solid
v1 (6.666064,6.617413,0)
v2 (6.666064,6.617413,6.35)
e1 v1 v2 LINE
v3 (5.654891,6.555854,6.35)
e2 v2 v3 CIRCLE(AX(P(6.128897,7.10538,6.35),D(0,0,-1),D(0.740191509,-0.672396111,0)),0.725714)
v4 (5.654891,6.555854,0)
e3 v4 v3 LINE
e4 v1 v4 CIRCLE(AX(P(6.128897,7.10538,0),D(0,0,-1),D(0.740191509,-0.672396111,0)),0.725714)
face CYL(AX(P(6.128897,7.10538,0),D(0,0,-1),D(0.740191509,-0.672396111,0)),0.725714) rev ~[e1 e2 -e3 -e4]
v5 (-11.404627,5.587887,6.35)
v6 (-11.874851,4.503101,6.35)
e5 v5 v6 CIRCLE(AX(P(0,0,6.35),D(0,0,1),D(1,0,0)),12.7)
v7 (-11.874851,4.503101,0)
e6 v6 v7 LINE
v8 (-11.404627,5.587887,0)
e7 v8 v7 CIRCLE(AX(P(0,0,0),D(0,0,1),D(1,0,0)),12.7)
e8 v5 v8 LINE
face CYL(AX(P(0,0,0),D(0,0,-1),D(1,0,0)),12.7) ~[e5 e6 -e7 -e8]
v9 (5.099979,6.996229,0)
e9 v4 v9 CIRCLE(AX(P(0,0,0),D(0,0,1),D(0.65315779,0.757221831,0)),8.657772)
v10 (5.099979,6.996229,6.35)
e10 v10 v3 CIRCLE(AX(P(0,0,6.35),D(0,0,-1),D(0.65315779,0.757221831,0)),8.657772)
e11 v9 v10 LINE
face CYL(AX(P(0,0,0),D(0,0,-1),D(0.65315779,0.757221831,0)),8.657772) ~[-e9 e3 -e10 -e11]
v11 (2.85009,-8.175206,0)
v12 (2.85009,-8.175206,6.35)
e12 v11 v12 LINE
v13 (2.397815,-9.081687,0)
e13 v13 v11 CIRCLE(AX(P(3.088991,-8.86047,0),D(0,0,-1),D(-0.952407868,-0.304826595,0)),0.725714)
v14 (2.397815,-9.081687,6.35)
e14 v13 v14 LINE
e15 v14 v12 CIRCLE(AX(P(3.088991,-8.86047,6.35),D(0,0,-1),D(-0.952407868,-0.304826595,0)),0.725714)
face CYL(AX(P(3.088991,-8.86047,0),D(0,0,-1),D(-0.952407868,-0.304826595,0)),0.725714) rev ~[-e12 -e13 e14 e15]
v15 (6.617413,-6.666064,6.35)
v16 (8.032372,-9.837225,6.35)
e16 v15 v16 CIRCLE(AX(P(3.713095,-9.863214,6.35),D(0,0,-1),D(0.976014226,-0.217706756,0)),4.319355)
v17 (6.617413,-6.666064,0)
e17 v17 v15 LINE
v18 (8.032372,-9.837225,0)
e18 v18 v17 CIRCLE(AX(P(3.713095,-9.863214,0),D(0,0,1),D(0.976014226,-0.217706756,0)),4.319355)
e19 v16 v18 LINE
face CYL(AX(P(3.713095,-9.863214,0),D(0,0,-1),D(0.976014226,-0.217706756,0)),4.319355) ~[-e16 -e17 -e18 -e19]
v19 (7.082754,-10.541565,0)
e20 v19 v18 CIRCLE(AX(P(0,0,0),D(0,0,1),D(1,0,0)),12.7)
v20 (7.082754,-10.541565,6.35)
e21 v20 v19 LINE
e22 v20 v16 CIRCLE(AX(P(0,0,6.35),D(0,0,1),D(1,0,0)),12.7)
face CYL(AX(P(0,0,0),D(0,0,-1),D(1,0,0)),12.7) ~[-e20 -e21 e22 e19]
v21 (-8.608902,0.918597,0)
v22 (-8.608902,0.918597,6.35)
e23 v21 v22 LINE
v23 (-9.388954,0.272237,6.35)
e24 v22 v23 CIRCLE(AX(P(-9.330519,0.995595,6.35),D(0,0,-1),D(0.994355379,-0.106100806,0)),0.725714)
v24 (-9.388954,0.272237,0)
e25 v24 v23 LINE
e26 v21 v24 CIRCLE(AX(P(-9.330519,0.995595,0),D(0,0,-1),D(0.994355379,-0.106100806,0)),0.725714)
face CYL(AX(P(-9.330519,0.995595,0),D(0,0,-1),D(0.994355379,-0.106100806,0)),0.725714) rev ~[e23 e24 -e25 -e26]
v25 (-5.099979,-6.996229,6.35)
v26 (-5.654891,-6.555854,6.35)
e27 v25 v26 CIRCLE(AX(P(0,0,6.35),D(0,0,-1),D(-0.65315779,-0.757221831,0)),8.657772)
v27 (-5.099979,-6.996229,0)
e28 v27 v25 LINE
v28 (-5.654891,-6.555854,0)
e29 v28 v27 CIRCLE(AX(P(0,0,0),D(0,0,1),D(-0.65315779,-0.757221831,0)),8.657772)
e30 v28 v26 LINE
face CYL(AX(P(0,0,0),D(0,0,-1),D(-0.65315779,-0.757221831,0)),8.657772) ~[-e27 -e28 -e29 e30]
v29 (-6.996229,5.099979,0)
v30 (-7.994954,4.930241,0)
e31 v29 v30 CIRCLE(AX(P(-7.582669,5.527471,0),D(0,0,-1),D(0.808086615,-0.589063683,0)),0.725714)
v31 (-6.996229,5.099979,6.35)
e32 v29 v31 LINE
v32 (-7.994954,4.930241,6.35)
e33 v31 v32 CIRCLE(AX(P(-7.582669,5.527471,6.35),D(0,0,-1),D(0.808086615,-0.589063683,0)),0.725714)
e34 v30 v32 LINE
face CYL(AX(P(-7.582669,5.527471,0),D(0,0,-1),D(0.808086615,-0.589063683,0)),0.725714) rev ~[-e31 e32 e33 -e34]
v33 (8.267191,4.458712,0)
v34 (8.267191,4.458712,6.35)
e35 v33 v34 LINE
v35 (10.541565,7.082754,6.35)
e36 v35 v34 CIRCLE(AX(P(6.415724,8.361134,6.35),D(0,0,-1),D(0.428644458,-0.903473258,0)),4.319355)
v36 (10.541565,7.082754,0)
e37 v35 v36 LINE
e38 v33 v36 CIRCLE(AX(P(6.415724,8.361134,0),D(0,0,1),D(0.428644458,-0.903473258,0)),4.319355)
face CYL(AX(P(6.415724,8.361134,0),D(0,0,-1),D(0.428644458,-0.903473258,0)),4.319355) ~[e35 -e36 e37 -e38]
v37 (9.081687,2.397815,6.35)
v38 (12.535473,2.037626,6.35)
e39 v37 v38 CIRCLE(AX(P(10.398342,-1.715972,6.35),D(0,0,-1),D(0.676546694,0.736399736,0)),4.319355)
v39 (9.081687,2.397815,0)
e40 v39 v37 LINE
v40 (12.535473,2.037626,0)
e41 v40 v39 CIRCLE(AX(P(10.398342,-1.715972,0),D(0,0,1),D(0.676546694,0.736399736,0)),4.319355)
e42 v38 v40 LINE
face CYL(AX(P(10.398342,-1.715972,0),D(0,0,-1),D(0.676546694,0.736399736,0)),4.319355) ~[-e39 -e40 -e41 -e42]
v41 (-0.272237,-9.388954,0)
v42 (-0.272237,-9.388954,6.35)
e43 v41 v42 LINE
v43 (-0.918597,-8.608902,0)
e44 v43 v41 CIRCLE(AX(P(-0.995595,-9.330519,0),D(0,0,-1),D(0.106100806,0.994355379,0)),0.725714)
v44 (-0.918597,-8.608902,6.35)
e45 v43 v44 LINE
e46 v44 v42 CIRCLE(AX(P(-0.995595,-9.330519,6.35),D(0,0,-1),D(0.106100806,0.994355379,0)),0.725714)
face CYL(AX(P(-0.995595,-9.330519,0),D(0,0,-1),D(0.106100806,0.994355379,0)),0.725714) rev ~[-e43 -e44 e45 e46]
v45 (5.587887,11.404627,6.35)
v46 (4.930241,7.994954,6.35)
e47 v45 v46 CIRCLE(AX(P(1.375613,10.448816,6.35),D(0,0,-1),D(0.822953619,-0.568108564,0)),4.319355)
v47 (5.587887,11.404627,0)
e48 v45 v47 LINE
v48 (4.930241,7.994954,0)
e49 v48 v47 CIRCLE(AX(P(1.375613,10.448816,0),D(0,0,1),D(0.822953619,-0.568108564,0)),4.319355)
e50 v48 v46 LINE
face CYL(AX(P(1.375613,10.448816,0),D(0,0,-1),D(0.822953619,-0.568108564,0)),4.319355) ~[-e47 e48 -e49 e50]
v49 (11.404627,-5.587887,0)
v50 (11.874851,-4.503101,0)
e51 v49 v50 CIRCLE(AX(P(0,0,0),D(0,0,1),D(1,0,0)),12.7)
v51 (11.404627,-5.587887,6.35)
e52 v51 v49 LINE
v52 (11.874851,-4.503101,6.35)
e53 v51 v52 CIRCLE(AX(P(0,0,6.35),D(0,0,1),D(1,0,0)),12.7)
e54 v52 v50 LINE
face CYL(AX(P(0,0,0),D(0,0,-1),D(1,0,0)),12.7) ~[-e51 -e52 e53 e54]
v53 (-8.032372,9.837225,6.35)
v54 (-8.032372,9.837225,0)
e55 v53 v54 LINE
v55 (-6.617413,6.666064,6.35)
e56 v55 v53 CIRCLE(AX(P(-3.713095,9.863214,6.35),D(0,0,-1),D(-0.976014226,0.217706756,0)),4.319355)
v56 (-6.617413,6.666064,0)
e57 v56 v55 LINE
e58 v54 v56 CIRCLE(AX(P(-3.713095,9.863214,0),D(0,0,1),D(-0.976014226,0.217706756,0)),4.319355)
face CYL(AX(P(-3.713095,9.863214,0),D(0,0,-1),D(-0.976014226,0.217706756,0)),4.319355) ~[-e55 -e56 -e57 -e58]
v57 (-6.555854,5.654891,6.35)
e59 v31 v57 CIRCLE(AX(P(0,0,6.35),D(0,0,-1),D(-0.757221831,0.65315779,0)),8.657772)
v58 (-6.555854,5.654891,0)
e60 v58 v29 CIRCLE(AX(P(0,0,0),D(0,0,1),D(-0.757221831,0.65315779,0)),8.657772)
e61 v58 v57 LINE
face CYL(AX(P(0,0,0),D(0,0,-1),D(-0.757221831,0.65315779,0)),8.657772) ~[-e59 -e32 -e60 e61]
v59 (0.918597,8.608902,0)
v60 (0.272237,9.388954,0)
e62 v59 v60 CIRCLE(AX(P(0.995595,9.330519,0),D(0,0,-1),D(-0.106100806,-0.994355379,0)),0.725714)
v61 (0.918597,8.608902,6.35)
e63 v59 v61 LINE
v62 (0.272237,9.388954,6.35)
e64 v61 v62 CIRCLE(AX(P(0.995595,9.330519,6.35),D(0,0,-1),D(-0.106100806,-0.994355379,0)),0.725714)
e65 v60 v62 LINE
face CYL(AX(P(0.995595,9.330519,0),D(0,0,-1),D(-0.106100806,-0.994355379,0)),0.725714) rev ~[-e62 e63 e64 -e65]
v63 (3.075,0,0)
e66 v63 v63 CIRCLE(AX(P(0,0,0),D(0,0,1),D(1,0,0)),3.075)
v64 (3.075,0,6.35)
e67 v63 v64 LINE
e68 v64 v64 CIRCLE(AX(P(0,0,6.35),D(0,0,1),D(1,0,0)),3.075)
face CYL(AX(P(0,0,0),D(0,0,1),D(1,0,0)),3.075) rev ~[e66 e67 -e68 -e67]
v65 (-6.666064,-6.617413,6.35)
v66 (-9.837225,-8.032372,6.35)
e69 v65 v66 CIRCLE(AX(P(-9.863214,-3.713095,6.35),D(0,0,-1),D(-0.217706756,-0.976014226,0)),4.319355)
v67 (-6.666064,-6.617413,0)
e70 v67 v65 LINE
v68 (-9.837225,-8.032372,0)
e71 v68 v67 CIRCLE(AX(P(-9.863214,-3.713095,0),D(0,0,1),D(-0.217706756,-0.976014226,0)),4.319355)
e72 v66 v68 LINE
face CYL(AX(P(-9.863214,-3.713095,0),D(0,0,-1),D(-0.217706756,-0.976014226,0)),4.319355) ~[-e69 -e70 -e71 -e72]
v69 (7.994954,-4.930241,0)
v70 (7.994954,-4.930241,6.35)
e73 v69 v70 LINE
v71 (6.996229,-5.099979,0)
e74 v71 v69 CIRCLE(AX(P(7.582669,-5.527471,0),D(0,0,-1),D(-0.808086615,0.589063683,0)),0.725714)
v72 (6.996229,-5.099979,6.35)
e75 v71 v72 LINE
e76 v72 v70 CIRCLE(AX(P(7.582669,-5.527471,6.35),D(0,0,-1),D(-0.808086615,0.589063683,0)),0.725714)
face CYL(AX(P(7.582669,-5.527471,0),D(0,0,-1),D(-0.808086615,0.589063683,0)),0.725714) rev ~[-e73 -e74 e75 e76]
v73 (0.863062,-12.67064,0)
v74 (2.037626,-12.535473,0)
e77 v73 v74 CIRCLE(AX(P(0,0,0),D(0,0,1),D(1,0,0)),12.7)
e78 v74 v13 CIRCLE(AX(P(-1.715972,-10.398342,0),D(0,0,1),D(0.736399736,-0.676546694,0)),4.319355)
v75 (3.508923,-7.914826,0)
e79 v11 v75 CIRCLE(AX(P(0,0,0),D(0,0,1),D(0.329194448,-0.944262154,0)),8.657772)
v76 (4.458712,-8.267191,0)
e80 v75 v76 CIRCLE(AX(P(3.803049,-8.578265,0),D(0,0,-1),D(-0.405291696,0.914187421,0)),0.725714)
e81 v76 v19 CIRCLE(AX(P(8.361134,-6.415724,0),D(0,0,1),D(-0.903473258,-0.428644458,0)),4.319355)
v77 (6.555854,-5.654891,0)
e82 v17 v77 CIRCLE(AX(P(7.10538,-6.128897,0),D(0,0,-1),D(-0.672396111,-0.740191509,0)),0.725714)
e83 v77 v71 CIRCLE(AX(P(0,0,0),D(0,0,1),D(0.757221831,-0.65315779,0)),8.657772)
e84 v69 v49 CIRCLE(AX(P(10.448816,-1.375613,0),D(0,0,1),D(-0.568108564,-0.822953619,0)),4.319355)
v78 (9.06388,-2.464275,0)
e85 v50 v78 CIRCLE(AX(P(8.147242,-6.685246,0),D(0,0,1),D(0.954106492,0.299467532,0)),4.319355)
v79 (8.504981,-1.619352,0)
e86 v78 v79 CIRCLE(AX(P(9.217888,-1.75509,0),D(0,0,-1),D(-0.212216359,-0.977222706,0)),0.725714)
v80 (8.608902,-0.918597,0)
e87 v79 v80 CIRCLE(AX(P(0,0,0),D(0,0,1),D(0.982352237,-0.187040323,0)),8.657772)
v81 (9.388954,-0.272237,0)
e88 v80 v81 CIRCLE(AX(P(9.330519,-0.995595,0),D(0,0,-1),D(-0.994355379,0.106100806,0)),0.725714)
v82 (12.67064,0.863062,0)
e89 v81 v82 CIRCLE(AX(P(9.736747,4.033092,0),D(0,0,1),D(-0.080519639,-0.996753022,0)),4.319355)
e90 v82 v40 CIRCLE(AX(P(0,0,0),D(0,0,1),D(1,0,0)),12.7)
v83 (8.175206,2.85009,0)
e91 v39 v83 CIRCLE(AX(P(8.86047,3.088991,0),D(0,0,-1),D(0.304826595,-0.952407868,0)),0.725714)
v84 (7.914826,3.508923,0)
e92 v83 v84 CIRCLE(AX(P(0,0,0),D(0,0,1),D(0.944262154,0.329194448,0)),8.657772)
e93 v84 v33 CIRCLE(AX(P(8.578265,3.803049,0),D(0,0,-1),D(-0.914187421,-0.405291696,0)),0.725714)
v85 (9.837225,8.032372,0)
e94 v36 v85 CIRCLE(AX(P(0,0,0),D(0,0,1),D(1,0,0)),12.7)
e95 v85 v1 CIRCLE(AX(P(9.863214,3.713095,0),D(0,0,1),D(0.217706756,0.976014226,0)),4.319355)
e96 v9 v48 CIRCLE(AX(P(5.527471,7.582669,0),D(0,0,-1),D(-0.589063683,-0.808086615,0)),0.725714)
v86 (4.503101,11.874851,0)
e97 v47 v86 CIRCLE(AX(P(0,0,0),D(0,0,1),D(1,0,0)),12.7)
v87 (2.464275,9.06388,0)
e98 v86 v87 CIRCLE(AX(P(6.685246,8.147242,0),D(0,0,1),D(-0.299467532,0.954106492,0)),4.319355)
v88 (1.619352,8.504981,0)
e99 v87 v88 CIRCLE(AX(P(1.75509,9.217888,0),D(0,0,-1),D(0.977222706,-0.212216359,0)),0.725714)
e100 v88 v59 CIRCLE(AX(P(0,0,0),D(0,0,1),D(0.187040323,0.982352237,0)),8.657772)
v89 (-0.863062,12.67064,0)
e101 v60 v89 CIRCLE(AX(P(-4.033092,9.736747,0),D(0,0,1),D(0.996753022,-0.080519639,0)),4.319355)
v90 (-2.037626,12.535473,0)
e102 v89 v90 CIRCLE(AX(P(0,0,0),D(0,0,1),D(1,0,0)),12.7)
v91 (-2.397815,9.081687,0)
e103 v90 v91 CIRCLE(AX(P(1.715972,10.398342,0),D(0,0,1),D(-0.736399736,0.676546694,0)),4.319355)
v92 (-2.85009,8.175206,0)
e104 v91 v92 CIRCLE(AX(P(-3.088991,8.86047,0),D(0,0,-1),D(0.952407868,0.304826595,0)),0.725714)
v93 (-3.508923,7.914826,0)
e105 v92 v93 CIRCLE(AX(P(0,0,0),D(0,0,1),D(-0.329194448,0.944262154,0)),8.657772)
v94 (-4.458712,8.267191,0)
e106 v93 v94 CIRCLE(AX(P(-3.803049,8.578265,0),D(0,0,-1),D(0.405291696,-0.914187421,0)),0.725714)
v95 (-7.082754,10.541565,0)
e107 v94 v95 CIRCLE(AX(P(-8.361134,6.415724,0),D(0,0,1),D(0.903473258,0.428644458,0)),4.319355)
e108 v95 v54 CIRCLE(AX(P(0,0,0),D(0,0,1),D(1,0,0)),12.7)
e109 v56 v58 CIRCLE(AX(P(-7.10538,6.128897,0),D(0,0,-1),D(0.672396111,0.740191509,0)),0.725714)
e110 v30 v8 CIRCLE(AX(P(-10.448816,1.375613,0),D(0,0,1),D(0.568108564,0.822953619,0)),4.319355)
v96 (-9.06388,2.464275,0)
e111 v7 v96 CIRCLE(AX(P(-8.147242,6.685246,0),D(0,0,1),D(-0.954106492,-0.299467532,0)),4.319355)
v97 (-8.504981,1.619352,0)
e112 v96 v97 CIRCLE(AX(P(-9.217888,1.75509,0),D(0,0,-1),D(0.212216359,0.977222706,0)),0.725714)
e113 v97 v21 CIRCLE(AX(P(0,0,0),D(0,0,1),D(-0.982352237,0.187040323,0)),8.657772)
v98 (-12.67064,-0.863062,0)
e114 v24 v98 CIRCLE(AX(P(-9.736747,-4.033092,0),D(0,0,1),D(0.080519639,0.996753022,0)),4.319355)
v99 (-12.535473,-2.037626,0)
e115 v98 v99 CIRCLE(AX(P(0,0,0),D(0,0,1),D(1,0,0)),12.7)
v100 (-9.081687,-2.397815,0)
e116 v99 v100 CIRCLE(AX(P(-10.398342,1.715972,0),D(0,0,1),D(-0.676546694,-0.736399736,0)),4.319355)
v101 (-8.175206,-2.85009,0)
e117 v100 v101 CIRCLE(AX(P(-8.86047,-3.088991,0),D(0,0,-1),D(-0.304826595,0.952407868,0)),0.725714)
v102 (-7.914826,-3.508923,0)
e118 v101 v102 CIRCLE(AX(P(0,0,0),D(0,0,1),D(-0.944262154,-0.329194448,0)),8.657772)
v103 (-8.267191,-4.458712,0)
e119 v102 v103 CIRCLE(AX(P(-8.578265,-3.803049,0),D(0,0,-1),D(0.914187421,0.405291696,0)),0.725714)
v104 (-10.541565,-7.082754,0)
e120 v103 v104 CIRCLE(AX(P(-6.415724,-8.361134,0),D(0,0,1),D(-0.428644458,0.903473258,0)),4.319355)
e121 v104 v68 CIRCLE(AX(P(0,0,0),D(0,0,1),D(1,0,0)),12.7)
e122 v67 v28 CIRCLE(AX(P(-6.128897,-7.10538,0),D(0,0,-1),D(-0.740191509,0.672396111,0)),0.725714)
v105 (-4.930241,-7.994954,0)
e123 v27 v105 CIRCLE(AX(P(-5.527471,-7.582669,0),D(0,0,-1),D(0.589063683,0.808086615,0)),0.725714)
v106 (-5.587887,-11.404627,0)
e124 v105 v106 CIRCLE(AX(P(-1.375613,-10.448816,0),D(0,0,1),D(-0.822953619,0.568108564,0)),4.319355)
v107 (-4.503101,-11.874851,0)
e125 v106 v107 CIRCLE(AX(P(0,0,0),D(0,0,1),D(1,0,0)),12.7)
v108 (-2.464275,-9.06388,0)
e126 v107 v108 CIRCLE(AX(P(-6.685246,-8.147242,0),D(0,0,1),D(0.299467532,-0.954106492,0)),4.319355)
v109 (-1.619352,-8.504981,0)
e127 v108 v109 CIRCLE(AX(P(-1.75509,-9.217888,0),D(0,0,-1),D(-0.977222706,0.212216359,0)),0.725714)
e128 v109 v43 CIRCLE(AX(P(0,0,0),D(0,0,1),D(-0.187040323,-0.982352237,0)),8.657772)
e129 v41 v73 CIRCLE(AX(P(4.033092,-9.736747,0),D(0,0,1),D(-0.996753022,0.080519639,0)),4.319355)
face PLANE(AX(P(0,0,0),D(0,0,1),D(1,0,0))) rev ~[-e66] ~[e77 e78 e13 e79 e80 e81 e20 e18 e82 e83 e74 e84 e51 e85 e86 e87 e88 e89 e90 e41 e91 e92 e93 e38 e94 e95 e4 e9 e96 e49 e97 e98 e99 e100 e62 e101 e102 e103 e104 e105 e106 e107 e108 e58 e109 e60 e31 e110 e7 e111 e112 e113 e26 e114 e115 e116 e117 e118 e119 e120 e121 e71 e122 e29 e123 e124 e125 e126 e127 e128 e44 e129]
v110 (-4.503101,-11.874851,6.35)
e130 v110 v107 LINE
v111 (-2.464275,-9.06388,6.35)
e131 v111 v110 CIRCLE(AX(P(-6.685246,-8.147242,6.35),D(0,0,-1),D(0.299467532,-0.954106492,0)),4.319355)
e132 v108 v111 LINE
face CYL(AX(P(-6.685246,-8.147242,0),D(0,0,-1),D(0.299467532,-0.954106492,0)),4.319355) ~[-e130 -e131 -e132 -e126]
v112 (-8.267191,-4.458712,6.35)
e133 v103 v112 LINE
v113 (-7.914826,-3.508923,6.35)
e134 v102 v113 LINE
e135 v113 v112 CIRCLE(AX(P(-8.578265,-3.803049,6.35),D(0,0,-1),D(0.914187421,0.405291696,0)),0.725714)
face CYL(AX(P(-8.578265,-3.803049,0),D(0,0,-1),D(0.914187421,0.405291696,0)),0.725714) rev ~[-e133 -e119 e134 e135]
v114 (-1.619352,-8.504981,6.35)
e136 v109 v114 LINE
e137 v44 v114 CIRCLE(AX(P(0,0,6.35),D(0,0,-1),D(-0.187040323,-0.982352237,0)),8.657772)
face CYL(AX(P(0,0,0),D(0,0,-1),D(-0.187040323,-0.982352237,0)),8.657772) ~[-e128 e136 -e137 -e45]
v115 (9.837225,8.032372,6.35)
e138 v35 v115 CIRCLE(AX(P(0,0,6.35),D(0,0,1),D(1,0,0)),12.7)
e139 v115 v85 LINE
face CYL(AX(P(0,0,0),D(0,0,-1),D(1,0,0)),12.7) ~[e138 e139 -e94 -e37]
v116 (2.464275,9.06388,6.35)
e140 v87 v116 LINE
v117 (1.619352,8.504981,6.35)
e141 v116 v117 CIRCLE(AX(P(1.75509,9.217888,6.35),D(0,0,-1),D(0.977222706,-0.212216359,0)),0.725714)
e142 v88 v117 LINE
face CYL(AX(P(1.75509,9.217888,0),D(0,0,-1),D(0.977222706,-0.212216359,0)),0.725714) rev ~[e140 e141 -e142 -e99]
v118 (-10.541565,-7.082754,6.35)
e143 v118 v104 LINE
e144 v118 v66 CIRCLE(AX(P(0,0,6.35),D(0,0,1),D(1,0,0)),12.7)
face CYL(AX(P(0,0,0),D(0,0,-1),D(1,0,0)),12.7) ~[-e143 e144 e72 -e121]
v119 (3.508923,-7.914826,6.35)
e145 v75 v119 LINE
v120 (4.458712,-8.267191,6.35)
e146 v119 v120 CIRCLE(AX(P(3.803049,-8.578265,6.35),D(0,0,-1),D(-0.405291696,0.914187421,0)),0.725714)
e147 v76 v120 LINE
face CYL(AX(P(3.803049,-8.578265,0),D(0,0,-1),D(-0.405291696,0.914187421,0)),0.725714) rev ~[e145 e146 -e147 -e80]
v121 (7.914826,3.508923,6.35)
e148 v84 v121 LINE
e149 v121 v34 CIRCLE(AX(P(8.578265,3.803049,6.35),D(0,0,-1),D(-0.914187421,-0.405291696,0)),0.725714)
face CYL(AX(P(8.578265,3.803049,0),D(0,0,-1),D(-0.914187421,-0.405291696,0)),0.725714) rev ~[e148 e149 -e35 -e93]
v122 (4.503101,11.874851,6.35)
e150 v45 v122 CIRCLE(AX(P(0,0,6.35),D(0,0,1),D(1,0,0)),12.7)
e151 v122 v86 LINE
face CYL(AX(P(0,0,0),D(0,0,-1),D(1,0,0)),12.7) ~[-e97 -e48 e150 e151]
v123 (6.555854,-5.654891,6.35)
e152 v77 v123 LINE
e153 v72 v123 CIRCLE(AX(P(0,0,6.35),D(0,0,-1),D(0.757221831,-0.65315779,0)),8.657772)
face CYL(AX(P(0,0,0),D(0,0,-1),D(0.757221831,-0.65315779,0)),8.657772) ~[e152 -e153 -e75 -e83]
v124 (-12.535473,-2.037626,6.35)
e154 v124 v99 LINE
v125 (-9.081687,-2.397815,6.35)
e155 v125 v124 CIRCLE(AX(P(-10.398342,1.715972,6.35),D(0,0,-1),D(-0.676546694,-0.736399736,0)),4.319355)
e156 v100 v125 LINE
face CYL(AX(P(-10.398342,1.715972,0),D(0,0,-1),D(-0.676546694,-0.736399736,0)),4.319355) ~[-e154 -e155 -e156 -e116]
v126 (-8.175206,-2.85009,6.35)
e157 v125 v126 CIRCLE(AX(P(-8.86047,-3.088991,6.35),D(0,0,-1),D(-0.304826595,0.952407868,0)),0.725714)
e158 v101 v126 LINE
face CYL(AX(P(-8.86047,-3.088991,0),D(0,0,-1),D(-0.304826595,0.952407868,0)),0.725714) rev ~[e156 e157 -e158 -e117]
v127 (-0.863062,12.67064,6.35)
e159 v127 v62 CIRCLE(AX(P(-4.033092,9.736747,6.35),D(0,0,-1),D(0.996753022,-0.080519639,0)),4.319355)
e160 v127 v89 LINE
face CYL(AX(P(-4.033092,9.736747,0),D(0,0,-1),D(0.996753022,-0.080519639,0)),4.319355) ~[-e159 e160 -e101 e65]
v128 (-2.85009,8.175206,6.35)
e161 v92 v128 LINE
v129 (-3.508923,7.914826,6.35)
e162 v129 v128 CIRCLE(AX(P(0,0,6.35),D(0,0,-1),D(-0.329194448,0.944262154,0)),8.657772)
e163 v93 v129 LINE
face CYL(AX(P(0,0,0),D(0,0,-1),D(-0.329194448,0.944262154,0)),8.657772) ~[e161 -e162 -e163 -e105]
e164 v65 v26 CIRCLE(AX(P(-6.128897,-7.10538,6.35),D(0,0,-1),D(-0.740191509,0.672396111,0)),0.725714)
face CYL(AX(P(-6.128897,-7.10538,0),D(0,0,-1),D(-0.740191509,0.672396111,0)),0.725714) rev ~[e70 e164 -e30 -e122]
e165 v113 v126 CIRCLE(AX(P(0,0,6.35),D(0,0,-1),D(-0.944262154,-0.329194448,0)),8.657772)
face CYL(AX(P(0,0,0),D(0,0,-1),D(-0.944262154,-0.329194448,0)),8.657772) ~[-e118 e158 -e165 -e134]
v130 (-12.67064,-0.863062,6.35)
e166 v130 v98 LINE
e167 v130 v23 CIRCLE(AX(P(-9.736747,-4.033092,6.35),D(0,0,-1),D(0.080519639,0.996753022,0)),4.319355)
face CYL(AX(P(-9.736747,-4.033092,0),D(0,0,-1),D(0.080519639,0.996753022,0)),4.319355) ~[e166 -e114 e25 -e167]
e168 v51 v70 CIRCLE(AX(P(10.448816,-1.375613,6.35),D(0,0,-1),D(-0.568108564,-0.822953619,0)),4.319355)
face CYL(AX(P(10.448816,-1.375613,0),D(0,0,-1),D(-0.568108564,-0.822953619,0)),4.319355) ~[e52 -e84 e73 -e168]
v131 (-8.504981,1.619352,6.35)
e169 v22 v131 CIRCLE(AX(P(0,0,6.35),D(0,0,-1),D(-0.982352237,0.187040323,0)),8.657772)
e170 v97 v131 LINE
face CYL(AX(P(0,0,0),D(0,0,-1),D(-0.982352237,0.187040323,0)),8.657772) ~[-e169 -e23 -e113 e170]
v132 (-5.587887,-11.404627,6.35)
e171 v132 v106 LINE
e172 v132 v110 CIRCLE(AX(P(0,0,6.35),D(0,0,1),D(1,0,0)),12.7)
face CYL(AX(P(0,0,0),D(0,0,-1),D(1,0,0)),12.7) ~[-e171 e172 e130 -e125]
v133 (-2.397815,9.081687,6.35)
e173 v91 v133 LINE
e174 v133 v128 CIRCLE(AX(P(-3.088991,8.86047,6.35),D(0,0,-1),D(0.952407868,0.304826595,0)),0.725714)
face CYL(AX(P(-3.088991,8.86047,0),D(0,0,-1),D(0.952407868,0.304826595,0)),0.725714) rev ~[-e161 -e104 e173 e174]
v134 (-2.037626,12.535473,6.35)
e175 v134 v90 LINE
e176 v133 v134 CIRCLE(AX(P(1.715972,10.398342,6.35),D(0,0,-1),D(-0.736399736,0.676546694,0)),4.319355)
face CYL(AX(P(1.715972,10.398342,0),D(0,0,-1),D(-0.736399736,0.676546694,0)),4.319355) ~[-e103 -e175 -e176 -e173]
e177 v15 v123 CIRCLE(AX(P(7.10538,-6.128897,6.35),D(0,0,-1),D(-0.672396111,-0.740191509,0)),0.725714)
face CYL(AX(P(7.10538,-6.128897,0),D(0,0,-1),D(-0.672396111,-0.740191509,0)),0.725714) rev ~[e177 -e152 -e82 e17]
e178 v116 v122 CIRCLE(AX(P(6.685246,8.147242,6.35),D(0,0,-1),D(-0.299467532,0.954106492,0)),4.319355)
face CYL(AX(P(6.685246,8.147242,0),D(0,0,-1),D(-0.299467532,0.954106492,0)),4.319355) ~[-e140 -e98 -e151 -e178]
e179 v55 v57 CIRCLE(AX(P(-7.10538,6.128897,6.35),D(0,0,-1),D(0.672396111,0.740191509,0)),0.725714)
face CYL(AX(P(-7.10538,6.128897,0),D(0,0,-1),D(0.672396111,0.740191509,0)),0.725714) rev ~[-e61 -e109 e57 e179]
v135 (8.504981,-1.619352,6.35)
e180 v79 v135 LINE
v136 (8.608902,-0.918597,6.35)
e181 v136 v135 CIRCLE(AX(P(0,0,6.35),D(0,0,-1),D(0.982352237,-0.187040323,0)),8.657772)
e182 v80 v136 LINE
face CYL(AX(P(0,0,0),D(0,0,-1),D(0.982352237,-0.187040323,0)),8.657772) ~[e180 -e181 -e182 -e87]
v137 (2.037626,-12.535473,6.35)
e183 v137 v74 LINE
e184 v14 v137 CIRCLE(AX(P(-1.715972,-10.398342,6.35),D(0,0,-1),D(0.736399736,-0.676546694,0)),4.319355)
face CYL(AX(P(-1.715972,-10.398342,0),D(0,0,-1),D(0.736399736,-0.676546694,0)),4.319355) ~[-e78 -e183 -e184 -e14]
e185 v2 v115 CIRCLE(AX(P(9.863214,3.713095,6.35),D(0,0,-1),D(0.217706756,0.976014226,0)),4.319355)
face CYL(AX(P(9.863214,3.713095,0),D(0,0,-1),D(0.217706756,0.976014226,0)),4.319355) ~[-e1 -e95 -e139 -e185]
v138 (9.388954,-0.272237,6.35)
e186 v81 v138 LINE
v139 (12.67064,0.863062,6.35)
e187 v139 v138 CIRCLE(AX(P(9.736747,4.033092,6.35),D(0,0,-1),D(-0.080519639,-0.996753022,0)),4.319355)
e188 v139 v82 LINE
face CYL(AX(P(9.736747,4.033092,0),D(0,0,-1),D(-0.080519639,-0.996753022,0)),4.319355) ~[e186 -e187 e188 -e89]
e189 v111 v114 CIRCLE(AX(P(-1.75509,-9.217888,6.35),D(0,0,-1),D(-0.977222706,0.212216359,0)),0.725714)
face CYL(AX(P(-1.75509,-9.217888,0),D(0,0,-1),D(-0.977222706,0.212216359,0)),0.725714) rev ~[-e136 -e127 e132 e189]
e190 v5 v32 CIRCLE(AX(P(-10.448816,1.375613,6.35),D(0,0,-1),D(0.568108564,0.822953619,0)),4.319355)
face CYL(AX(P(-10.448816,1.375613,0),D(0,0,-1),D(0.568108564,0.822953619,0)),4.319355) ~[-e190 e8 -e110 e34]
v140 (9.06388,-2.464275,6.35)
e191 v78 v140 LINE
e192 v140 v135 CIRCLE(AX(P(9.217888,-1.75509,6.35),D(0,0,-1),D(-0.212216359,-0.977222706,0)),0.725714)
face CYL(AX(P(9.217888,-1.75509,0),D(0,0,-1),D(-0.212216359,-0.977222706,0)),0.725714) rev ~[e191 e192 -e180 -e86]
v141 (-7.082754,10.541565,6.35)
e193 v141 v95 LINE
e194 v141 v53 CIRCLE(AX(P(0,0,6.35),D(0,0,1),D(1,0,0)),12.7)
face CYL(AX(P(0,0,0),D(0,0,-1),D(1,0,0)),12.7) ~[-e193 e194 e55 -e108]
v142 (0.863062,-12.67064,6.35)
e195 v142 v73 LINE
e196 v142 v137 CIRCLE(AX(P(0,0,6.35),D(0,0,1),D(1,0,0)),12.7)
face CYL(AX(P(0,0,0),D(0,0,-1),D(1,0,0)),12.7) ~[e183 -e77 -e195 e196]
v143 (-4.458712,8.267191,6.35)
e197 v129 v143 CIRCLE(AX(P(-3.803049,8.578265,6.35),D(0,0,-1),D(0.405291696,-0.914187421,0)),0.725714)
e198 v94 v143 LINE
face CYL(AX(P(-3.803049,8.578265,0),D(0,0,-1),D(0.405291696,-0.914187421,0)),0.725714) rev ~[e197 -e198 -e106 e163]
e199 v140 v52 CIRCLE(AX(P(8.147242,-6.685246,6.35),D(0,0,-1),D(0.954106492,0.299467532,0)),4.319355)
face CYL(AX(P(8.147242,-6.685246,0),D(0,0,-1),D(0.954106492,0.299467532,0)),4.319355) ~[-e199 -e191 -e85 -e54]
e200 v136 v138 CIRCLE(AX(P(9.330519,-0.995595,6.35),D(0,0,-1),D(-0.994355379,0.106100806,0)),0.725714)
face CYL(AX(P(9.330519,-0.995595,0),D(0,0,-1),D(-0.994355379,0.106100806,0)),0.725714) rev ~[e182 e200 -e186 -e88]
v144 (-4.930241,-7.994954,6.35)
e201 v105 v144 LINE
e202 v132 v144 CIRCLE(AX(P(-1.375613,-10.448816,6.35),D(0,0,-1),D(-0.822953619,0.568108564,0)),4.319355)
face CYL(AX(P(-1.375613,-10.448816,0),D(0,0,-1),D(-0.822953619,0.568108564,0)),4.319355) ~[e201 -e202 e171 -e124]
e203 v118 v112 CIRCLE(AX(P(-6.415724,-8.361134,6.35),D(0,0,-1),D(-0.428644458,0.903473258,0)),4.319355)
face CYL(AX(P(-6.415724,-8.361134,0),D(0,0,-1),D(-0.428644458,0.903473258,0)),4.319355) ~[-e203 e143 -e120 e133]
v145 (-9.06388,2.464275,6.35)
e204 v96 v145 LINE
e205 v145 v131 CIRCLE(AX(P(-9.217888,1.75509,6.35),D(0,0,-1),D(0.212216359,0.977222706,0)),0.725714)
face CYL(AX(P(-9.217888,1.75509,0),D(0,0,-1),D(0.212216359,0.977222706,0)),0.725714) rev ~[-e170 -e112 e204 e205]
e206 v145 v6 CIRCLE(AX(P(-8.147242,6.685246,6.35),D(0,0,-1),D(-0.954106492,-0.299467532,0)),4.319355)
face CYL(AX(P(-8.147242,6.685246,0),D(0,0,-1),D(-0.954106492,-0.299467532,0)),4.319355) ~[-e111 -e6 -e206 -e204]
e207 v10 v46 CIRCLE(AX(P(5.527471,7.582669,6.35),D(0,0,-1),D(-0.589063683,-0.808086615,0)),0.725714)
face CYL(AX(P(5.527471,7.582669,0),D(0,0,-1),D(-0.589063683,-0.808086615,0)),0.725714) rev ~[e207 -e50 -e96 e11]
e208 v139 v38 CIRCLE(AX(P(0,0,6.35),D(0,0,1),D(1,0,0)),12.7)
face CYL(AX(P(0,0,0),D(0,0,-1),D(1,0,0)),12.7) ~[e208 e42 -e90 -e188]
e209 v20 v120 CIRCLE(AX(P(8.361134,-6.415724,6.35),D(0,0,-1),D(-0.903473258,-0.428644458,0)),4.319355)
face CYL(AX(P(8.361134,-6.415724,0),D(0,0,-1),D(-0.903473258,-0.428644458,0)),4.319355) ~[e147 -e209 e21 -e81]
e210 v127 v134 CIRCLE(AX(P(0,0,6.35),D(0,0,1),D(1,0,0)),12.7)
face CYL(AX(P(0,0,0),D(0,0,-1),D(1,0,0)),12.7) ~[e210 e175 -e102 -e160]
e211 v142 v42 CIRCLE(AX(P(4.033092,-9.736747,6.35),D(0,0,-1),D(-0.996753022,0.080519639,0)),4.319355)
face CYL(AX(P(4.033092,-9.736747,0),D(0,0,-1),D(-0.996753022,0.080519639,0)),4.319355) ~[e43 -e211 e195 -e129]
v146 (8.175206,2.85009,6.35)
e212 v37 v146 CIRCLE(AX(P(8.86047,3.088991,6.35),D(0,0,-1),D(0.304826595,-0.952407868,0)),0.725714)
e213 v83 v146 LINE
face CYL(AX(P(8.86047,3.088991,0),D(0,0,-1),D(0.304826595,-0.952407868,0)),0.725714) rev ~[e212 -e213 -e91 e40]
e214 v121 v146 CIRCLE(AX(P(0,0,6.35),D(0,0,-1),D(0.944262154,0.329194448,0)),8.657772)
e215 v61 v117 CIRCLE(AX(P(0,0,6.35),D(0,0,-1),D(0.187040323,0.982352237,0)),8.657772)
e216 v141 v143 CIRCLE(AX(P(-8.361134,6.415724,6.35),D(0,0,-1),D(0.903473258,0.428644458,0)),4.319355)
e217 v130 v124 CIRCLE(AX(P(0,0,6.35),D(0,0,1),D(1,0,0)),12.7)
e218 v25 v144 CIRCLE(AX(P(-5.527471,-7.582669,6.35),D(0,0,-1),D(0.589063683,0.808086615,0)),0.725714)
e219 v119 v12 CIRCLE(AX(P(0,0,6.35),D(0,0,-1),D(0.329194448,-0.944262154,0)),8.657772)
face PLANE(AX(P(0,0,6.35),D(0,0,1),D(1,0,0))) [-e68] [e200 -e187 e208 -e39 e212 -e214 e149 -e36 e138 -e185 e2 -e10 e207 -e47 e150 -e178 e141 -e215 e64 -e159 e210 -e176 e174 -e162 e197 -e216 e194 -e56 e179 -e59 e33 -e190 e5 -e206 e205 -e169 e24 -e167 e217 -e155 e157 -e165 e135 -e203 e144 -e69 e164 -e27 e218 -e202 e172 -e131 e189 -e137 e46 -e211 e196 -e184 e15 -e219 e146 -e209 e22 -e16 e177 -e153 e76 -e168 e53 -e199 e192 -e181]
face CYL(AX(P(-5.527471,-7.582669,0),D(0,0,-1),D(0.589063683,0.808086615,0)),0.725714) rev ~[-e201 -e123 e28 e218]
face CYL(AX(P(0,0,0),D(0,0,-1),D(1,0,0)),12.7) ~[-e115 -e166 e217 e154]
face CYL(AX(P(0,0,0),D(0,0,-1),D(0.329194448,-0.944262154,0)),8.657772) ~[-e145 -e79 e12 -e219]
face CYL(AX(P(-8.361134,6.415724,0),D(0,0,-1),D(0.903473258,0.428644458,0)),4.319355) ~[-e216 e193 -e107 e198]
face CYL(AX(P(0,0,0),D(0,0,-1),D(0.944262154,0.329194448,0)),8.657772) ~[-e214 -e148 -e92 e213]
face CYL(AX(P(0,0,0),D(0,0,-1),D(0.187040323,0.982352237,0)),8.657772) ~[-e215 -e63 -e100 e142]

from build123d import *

# Parameters (mm, degrees)
SKETCH3_R         = 12.7
GEARBODY_DEPTH    = 6.35
TOOTHCUT_DEPTH    = 20.05
CIRPATTERN1_COUNT = 12
BOREDIA_R         = 3.075
BORE_DEPTH        = 12700


with BuildPart() as part:
    # Sketch3 → gearBody (new body)
    with BuildSketch(Plane.XY):
        Circle(SKETCH3_R)
    extrude(amount=GEARBODY_DEPTH)

    # Sketch2 → toothCut (cut, through all)
    with BuildSketch(Plane.XY):
        with BuildLine():
            ThreePointArc((8.504981128, -1.619352377), (8.564111751, -1.270037802), (8.608901587, -0.918596522))
            ThreePointArc((8.608901587, -0.918596522), (8.867488023, -0.436790342), (9.388953743, -0.272237485))
            ThreePointArc((9.388953743, -0.272237485), (11.599176183, 0.135890641), (13.30511426, 1.599252209))
            ThreePointArc((13.30511426, 1.599252209), (13.255912686, -1.96582094), (12.268366453, -5.391739765))
            ThreePointArc((12.268366453, -5.391739765), (11.060534793, -3.49627294), (9.063879737, -2.464274691))
            ThreePointArc((9.063879737, -2.464274691), (8.61261217, -2.155467755), (8.504981128, -1.619352377))
        make_face()
    toothcut = extrude(amount=TOOTHCUT_DEPTH, mode=Mode.SUBTRACT)

    # CirPattern1: toothCut ×12 about axis
    cirpattern1_axis = Axis((0, 0, 6.35), (0, 0, -1))
    for i in range(1, CIRPATTERN1_COUNT):
        add(toothcut.rotate(cirpattern1_axis, i * 360 / CIRPATTERN1_COUNT), mode=Mode.SUBTRACT)

    # boreDia → bore (cut, symmetric)
    with BuildSketch(Plane.XY):
        Circle(BOREDIA_R)
    extrude(amount=BORE_DEPTH, both=True, mode=Mode.SUBTRACT)


solid = part.part
